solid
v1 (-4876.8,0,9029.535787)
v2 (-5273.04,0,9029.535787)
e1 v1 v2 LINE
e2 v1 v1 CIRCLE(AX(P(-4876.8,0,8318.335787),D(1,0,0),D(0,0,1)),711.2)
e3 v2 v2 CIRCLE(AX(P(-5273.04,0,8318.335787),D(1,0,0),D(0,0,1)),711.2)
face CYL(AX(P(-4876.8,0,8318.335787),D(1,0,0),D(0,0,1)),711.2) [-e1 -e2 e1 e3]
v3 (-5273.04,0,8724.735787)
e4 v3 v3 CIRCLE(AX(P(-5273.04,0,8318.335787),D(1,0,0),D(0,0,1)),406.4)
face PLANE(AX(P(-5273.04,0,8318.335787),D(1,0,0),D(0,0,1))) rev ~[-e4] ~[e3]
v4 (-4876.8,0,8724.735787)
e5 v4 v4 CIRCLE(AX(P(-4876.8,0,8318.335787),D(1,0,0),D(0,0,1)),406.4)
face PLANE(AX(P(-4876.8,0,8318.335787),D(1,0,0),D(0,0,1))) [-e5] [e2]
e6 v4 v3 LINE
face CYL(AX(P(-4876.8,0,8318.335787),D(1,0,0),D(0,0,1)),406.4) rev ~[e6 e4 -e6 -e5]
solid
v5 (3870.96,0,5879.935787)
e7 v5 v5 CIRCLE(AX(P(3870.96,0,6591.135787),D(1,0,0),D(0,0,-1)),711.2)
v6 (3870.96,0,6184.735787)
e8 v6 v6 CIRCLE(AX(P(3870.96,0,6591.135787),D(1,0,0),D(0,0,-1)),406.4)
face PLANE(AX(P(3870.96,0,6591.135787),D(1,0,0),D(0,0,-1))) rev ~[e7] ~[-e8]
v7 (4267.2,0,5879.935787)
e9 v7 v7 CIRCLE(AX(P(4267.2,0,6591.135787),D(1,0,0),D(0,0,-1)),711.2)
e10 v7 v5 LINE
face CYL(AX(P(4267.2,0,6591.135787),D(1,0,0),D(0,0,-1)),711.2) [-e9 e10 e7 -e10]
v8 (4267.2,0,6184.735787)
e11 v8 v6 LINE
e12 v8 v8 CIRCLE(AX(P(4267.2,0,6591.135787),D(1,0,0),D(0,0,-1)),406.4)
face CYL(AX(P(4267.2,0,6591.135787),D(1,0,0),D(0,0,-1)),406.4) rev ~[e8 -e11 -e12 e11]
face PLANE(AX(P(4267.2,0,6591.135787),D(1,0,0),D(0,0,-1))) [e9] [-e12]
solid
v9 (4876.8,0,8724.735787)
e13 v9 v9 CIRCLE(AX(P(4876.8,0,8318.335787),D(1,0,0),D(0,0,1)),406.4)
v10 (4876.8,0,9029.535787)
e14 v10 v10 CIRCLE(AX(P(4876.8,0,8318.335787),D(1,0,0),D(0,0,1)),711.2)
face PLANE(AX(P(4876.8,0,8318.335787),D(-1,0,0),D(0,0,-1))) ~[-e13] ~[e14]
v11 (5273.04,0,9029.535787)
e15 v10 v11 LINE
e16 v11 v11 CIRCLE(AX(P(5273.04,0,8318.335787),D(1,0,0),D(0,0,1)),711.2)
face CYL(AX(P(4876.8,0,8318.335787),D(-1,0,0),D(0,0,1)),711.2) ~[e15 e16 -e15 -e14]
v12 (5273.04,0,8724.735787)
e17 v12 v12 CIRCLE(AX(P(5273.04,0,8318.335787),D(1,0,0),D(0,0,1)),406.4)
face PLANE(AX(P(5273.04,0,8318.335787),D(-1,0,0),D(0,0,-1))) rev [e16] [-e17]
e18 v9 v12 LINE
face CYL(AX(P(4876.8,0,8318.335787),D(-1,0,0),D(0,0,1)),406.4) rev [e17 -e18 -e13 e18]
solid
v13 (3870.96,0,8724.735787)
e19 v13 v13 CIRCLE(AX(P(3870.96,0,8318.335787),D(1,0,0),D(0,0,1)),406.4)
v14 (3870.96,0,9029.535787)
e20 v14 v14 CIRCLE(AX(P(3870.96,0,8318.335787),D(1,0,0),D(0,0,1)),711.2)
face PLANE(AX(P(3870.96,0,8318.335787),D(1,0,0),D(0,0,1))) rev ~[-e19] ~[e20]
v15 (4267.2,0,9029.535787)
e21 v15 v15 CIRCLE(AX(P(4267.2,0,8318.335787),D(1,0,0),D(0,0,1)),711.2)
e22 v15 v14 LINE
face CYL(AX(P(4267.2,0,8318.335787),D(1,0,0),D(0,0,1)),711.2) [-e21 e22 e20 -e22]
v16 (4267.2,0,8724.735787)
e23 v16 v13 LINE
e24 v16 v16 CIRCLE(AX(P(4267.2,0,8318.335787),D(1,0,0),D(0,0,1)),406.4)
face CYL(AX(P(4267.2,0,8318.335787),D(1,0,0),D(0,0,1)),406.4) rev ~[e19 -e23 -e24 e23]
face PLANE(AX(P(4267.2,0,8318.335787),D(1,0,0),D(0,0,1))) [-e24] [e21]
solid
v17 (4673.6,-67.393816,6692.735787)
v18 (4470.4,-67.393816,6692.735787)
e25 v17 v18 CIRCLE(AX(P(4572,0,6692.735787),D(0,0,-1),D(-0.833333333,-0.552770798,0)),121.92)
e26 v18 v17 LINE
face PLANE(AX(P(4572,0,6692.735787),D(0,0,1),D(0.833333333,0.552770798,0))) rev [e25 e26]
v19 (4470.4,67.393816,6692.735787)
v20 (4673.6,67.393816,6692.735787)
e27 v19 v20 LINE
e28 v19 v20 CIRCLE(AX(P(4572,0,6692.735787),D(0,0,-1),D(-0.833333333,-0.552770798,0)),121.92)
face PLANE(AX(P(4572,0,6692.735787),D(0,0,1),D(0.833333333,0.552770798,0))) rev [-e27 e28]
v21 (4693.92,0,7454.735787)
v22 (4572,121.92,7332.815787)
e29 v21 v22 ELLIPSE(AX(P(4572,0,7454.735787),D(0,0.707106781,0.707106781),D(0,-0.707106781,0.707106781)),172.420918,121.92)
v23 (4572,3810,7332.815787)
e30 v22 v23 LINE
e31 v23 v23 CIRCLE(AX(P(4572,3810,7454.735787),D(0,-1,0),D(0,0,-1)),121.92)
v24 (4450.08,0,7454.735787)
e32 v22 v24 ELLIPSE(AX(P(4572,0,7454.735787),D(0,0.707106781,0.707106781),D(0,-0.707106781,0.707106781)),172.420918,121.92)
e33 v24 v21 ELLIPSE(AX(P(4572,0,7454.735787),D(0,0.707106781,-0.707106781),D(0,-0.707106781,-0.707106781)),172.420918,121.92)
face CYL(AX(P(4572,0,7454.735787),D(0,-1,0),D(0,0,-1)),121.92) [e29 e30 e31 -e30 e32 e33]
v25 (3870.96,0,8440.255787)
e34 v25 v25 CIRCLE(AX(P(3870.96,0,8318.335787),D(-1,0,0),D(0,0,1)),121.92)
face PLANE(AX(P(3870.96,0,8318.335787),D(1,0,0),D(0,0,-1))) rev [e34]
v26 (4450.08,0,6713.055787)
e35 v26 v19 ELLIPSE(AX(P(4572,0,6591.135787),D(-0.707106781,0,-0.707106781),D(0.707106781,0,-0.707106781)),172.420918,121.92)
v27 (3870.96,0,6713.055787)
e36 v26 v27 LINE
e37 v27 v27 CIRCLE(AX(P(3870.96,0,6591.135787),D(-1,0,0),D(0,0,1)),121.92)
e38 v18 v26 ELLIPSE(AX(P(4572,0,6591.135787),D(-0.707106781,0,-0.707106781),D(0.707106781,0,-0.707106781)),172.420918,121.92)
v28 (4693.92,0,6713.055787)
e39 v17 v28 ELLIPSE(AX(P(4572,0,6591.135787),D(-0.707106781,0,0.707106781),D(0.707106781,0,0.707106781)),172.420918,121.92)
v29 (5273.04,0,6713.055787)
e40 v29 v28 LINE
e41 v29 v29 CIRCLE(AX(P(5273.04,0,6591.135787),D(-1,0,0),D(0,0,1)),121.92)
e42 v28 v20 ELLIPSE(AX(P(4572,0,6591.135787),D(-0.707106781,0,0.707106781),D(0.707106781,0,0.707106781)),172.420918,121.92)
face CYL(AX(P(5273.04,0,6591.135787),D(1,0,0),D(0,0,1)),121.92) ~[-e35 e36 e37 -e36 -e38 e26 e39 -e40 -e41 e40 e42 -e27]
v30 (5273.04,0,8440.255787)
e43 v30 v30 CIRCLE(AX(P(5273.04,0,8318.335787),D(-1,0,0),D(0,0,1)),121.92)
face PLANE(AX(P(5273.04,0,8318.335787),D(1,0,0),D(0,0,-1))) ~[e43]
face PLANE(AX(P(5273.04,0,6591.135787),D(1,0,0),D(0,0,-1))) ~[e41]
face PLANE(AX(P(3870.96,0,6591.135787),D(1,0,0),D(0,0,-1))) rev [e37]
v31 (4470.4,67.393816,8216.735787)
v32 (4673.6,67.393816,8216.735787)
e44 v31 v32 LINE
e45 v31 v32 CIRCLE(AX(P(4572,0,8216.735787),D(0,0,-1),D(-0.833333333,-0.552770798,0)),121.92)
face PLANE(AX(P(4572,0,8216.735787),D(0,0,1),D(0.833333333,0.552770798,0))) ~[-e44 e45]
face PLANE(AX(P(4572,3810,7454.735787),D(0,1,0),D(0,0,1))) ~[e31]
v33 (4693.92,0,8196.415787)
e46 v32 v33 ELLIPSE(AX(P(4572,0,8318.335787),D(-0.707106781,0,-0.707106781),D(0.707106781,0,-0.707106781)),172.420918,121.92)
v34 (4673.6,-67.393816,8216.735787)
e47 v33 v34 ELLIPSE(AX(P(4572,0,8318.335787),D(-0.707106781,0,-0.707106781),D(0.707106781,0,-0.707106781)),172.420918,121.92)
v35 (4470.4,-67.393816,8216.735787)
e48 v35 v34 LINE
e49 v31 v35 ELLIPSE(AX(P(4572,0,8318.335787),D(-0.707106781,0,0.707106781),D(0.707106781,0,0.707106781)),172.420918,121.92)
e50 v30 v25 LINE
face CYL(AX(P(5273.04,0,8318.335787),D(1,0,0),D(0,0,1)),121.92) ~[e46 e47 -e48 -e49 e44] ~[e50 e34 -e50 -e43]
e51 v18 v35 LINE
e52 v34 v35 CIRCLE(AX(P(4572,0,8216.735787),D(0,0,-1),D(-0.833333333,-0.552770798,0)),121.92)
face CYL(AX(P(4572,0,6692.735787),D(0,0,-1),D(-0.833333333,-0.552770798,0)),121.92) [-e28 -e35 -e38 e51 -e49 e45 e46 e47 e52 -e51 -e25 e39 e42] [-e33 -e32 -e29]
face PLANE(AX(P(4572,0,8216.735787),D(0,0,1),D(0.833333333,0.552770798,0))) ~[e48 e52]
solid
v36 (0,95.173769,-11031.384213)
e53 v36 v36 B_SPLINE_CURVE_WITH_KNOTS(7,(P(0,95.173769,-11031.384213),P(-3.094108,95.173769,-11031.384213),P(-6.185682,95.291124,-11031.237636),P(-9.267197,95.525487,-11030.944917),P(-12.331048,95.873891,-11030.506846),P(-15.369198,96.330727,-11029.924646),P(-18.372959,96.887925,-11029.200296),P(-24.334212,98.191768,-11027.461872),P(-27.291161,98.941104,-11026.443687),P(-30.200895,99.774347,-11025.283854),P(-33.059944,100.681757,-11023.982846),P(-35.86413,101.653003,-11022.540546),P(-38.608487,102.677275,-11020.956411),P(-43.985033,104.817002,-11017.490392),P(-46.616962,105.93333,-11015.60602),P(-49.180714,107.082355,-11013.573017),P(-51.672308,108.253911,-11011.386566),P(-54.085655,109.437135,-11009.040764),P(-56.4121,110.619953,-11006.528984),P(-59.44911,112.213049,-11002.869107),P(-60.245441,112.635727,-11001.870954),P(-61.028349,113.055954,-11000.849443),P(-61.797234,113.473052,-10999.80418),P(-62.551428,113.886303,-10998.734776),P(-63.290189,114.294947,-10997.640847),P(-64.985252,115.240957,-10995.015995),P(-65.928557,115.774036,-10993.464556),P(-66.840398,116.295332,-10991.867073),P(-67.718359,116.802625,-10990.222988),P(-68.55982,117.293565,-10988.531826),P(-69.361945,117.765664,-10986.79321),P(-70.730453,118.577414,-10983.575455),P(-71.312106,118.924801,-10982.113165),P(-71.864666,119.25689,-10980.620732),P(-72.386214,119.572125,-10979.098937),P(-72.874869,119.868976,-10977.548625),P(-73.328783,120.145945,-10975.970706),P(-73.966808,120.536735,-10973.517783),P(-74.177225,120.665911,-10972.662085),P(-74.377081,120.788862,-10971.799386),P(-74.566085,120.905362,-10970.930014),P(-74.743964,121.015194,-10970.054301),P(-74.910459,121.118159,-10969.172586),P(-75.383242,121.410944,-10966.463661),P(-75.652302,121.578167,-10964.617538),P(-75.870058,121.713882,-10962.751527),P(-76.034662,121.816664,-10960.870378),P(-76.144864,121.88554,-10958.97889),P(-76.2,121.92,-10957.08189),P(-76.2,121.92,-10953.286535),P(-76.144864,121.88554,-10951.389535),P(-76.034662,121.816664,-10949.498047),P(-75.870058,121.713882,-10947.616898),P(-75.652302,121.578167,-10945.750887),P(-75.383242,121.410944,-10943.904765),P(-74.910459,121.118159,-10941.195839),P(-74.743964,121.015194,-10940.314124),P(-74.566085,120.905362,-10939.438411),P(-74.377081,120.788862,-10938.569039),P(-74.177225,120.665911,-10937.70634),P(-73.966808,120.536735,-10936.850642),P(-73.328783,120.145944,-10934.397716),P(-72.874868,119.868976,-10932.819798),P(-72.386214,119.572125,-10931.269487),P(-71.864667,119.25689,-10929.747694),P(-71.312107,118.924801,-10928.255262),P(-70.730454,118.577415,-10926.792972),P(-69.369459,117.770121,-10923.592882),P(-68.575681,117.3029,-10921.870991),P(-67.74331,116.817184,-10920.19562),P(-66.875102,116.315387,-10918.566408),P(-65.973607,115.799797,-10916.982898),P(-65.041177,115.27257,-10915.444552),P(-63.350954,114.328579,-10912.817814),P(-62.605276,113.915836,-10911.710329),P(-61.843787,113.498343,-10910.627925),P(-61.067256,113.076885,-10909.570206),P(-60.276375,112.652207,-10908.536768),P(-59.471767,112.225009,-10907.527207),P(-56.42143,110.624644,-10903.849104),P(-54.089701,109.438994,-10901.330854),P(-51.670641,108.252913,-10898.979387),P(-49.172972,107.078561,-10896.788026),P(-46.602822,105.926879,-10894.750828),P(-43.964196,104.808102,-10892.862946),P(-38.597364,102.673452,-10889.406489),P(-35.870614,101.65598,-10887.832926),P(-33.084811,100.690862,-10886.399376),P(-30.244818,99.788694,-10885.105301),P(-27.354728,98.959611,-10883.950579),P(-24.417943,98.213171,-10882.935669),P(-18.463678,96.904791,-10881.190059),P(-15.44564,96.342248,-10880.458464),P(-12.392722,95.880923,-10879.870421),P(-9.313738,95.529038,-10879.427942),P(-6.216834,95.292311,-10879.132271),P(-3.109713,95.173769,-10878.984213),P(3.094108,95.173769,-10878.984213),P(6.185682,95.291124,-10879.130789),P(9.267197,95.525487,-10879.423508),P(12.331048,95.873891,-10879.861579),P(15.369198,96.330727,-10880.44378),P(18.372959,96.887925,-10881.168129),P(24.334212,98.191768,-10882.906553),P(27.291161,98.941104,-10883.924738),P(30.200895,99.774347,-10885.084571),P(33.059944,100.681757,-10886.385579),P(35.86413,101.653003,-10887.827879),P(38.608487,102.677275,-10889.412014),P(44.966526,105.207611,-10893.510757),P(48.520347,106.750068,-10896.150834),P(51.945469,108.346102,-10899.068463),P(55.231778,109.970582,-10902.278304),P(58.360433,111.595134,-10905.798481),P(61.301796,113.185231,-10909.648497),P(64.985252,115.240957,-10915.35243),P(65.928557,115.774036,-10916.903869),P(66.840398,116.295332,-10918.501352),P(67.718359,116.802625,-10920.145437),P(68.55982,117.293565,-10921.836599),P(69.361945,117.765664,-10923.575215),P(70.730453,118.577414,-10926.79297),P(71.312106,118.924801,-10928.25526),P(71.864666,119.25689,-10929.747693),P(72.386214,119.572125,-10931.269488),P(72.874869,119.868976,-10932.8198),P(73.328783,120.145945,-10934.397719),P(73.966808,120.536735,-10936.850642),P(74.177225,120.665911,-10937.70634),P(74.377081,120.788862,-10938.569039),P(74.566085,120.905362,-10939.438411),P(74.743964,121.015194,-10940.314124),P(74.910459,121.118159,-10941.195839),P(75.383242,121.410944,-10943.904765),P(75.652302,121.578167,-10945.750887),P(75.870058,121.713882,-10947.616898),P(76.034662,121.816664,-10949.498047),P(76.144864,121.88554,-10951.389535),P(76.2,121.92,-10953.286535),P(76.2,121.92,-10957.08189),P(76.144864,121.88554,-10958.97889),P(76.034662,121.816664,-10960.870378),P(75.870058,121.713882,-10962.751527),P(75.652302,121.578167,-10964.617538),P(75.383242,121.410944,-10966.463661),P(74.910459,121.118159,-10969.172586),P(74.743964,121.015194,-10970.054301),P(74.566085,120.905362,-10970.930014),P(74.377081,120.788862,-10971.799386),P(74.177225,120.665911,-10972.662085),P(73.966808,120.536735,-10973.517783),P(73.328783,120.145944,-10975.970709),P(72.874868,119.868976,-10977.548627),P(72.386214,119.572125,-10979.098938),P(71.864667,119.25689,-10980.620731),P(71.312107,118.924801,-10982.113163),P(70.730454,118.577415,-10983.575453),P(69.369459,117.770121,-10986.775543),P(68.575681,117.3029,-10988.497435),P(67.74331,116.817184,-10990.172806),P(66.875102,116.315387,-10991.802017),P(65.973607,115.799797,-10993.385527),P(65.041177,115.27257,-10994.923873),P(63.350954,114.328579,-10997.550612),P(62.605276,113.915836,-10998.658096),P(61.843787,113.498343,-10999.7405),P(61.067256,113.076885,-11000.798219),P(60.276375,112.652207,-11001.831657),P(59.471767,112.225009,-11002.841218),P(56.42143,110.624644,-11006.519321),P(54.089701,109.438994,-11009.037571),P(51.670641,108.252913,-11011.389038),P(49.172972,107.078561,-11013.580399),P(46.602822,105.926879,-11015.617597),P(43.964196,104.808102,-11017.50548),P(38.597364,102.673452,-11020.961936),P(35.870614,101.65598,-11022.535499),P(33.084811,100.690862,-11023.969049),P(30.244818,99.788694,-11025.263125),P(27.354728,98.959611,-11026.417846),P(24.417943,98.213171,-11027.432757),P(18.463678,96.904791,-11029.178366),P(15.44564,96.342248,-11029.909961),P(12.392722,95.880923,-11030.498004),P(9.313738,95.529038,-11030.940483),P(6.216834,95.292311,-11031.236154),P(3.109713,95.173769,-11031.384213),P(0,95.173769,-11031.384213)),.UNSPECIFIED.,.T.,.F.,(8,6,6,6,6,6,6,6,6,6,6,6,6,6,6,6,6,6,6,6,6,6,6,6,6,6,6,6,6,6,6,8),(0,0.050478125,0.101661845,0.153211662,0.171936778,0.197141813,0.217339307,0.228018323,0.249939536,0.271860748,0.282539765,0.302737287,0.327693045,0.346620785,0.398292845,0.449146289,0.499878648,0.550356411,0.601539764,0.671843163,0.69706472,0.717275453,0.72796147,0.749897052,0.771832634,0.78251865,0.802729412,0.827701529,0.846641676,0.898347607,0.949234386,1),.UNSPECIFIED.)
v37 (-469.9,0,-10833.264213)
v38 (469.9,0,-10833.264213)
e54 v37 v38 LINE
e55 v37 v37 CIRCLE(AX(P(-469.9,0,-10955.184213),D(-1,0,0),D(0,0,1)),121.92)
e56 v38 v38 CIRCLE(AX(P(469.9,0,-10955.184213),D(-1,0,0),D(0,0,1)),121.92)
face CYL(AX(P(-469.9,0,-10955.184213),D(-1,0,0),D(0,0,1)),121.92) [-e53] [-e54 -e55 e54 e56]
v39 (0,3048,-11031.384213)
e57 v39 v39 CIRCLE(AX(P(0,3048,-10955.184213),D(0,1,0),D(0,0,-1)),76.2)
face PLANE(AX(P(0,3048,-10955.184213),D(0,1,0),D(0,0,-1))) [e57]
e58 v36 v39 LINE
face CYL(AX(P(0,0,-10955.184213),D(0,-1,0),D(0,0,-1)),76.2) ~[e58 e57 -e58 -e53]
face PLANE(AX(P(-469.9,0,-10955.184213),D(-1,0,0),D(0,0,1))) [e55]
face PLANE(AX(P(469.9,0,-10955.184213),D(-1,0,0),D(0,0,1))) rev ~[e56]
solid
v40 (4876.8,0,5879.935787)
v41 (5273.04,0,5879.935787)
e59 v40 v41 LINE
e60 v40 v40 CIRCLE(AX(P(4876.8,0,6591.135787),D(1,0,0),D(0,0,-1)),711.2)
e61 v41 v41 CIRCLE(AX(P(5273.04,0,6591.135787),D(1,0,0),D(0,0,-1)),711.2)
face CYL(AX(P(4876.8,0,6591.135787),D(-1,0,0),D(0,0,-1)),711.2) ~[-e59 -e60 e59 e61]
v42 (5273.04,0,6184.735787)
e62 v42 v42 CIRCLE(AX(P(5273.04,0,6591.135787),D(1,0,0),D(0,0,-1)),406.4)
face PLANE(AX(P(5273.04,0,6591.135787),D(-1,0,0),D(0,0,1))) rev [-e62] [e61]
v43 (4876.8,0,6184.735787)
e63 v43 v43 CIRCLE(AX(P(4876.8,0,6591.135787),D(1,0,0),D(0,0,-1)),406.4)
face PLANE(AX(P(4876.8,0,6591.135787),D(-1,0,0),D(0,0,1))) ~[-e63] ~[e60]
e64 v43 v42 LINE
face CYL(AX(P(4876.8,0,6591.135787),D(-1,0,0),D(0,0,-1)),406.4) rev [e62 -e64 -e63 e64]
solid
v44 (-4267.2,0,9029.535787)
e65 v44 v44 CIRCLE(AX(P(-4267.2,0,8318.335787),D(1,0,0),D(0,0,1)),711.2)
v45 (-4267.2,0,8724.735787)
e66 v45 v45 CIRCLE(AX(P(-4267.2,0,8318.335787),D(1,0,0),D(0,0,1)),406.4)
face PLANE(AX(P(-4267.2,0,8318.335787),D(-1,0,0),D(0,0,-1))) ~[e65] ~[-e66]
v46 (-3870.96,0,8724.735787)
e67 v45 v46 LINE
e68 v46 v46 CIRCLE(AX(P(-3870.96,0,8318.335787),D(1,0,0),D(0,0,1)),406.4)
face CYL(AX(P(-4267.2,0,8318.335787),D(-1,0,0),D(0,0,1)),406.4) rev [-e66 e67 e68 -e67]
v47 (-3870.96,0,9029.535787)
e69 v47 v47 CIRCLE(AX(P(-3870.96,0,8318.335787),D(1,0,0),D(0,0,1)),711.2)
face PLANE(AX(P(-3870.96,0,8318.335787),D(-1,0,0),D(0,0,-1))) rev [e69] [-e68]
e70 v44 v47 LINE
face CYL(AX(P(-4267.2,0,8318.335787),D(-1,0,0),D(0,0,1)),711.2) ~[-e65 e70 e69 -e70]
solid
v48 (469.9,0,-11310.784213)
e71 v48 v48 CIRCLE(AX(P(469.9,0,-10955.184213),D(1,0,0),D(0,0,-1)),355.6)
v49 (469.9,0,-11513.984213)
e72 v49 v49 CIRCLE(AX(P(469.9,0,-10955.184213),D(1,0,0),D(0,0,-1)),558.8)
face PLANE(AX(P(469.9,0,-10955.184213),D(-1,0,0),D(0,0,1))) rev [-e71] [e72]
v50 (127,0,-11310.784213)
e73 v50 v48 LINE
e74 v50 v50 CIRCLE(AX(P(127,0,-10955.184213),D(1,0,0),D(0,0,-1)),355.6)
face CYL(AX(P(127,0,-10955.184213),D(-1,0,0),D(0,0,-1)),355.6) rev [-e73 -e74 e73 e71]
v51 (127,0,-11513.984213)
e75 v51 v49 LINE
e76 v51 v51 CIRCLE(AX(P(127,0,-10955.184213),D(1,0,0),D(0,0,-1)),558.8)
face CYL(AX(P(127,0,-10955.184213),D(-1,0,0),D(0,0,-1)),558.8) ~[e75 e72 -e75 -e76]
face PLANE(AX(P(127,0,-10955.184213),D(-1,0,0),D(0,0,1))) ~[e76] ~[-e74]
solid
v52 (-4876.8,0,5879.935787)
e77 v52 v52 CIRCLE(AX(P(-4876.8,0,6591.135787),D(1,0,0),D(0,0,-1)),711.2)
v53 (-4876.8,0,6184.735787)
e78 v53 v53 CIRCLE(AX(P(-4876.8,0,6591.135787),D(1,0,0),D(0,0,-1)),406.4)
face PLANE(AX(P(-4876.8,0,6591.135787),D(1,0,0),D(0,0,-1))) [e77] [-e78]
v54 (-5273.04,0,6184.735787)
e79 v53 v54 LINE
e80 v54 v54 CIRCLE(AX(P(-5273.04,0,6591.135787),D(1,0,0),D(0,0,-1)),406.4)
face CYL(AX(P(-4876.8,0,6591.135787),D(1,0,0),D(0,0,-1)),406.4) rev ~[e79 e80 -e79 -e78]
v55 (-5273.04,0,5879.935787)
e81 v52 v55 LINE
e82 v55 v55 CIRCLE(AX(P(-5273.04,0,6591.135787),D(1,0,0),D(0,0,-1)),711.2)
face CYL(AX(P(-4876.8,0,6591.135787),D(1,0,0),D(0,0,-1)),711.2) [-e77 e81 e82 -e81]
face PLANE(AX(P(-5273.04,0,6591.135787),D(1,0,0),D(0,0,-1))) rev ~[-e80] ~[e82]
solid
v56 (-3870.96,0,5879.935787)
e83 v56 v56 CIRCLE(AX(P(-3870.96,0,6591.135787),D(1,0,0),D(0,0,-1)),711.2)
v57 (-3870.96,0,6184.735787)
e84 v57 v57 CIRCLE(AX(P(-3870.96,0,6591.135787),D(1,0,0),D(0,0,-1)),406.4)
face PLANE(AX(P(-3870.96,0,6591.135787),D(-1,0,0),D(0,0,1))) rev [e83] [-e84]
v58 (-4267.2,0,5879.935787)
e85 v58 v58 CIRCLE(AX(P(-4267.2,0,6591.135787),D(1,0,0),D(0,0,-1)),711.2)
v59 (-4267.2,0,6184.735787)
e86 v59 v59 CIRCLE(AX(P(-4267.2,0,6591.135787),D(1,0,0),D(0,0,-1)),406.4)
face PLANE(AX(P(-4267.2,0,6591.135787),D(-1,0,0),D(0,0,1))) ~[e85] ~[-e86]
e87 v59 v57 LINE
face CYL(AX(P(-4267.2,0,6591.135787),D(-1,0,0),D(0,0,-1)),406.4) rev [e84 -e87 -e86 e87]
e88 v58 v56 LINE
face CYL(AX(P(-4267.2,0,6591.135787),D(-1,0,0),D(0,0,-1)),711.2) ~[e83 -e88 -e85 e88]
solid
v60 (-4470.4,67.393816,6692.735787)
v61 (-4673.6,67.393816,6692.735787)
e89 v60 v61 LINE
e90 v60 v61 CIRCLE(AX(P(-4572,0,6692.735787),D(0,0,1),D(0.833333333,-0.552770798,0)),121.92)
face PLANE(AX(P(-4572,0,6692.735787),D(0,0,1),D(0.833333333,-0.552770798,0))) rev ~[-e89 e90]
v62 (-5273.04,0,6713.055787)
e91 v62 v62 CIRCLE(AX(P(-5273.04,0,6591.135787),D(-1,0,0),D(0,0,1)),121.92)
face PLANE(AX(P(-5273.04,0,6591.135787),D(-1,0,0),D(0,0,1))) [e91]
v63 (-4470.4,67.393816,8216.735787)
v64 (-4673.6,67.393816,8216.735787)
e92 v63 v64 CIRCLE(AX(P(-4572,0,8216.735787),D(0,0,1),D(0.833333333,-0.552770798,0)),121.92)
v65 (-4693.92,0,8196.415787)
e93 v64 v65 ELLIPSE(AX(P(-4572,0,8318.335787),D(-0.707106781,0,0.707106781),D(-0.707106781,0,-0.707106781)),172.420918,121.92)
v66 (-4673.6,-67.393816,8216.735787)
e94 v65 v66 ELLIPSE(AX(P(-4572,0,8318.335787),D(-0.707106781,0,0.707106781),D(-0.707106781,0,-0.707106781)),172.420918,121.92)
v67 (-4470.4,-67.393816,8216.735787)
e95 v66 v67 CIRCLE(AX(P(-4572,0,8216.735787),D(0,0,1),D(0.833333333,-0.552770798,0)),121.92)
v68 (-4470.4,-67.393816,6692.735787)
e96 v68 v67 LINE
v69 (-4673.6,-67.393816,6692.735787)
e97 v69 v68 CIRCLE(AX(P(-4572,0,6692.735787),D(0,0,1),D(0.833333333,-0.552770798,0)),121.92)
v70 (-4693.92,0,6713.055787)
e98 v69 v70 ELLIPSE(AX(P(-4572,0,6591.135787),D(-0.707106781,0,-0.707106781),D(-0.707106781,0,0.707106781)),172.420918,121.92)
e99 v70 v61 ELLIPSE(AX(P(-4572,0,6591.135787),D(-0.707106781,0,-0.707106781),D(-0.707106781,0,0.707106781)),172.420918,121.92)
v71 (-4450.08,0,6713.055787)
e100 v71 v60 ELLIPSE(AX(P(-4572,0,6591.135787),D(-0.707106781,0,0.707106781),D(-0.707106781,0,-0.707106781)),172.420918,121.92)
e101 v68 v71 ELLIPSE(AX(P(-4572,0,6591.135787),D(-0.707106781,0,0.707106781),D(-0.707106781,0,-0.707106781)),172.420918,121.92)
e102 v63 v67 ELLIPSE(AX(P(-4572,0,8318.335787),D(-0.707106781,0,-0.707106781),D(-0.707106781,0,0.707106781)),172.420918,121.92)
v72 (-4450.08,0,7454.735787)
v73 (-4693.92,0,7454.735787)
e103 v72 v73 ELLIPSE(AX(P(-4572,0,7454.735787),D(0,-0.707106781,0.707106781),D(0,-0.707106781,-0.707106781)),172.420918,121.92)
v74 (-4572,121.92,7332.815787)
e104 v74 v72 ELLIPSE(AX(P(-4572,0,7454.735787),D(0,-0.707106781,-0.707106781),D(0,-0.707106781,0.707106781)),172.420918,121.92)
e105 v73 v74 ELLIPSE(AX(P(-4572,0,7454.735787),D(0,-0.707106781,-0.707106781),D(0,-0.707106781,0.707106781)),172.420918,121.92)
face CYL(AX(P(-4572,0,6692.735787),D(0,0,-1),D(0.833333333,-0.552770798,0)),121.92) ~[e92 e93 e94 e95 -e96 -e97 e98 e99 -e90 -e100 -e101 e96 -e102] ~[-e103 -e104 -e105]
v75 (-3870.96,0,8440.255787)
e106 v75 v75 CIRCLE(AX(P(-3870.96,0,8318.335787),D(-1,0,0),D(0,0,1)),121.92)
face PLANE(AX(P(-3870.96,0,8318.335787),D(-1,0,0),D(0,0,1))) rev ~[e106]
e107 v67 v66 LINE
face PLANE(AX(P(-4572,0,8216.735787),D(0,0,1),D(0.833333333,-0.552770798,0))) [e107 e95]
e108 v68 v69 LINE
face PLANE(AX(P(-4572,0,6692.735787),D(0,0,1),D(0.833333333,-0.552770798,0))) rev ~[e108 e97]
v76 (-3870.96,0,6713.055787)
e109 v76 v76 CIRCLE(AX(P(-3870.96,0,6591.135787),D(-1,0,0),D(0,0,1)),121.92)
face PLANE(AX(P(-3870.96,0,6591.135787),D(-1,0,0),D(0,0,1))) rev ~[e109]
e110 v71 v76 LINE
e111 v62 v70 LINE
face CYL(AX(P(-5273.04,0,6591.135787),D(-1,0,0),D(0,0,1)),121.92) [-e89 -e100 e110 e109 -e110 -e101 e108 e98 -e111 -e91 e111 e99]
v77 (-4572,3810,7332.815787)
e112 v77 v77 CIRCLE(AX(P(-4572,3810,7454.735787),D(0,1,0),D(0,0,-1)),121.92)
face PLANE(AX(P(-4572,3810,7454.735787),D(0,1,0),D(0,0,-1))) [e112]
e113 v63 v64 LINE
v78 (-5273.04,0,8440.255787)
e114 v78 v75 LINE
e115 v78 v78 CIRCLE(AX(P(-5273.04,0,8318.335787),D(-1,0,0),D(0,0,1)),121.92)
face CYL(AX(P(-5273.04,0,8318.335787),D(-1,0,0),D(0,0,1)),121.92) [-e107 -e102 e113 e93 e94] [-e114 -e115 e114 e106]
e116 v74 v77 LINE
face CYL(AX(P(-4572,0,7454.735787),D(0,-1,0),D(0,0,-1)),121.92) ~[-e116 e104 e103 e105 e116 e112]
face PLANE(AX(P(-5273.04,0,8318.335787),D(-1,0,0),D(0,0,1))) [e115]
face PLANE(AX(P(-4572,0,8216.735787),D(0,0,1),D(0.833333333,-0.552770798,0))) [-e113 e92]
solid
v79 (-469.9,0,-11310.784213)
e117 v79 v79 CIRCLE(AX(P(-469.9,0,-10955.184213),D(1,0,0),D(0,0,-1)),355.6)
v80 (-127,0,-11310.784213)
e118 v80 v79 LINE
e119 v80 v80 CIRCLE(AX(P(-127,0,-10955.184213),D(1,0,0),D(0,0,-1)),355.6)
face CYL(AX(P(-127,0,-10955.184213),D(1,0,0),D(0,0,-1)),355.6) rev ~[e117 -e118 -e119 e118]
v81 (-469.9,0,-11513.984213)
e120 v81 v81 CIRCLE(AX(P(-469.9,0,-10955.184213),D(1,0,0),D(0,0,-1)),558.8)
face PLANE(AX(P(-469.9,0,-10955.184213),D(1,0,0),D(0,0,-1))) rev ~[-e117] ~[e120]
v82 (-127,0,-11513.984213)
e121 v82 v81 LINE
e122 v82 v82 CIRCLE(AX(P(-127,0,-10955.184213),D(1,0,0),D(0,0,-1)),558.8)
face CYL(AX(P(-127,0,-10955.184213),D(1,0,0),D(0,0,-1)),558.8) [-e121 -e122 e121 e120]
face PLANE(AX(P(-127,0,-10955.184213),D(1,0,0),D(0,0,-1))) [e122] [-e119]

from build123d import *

# Parameters (mm, degrees)
SKETCH16_R               = 711.1999999999995
SKETCH16_R_2             = 406.3999999999997
BOSS_EXTRUDE1_DEPTH      = 396.24
BOSS_EXTRUDE1_2_DEPTH    = 396.24
SKETCH12_R               = 121.92000000000056
BOSS_EXTRUDE2_DEPTH      = 3810.0000000000005
SKETCH17_R               = 121.92000000000046
BOSS_EXTRUDE3_DEPTH      = 1402.08
SKETCH17_R_2             = 121.92000000000138
BOSS_EXTRUDE3_2_DEPTH    = 1402.08
BOSS_EXTRUDE4_DEPTH      = 762.0000000000001
BOSS_EXTRUDE4_DEPTH_BACK = 762.0000000000001
SKETCH18_R               = 121.92000000000046
SKETCH19_R               = 558.8000000000001
SKETCH19_R_2             = 355.60000000000025
BOSS_EXTRUDE5_DEPTH      = 342.9
SKETCH20_R               = 121.92000000000138
BOSS_EXTRUDE6_DEPTH      = 939.8
SKETCH21_R               = 76.20000000000083
BOSS_EXTRUDE7_DEPTH      = 3048.0000000000005


with BuildPart() as part:
    # Sketch16 → Boss-Extrude1 (new body)
    with BuildSketch(Plane(origin=(-4876.8, 0, 0), x_dir=(0, 0, -1), z_dir=(1, 0, 0))):
        with Locations((-6591.13578743189, -1.866e-14)):
            Circle(SKETCH16_R)
        with Locations((-6591.13578743189, -1.866e-14)):
            Circle(SKETCH16_R_2, mode=Mode.SUBTRACT)
    extrude(amount=-BOSS_EXTRUDE1_DEPTH)


with BuildPart() as body_2:
    # Sketch16 → Boss-Extrude1 2 (new body)
    with BuildSketch(Plane(origin=(-4876.8, 0, 0), x_dir=(0, 0, -1), z_dir=(1, 0, 0))):
        with Locations(Location((-8318.33578743189, -1.866e-14, 0), (0, 0, 180))):
            Circle(SKETCH16_R)
        with Locations(Location((-8318.33578743189, -1.866e-14, 0), (0, 0, 180))):
            Circle(SKETCH16_R_2, mode=Mode.SUBTRACT)
    extrude(amount=-BOSS_EXTRUDE1_2_DEPTH)


with BuildPart() as body_3:
    # Mirror2: mirrored copy
    add(part.part.mirror(Plane(origin=(-4572, 0, 0), x_dir=(0, 0, 1), z_dir=(1, 0, 0))))


with BuildPart() as body_4:
    # Mirror2 2: mirrored copy
    add(body_2.part.mirror(Plane(origin=(-4572, 0, 0), x_dir=(0, 0, 1), z_dir=(1, 0, 0))))


with BuildPart() as body_5:
    # Sketch12 → Boss-Extrude2 (new body)
    with BuildSketch(Plane(origin=(0, 0, 0), x_dir=(1, 0, 0), z_dir=(0, 1, 0))):
        with Locations(Location((-4572, -7454.73578743189, 0), (0, 0, 90))):
            Circle(SKETCH12_R)
    extrude(amount=BOSS_EXTRUDE2_DEPTH)



with BuildPart() as body_6:
    # Sketch17 → Boss-Extrude3 (new body)
    with BuildSketch(Plane.ZY.offset(5273.04)):
        with Locations((6591.13578743189, -1.866e-14)):
            Circle(SKETCH17_R)
    extrude(amount=-BOSS_EXTRUDE3_DEPTH)


with BuildPart() as body_7:
    # Sketch17 → Boss-Extrude3 2 (new body)
    with BuildSketch(Plane.ZY.offset(5273.04)):
        with Locations((8318.33578743189, -1.866e-14)):
            Circle(SKETCH17_R_2)
    extrude(amount=-BOSS_EXTRUDE3_2_DEPTH)


with BuildPart() as body_5_1:
    add(body_5.part)

    add(body_6.part)  # Boss-Extrude4 merges body 6

    add(body_7.part)  # Boss-Extrude4 merges body 7
    # Sketch18 → Boss-Extrude4 (add, two sides: drawn at the far end of the back side and taken through both)
    with BuildSketch(Plane.XY.offset(7454.735787431891).offset(-BOSS_EXTRUDE4_DEPTH_BACK)):
        with Locations(Location((-4572, 0, 0), (0, 0, 326.442690238))):
            Circle(SKETCH18_R)
    extrude(amount=BOSS_EXTRUDE4_DEPTH + BOSS_EXTRUDE4_DEPTH_BACK)


with BuildPart() as body_6_2:
    # Sketch19 → Boss-Extrude5 (new body)
    with BuildSketch(Plane(origin=(-126.99999999999945, 0, 0), x_dir=(0, 0, -1), z_dir=(1, 0, 0))):
        with Locations((10955.184212568114, -2.141e-14)):
            Circle(SKETCH19_R)
        with Locations((10955.184212568114, -2.141e-14)):
            Circle(SKETCH19_R_2, mode=Mode.SUBTRACT)
    extrude(amount=-BOSS_EXTRUDE5_DEPTH)


with BuildPart() as body_7_2:
    # Mirror4: mirrored copy
    add(body_6_2.part.mirror(Plane(origin=(0, 0, 0), x_dir=(0, 0, 1), z_dir=(1, 0, 0))))


with BuildPart() as body_8:
    # Mirror4 2: mirrored copy
    add(body_2.part.mirror(Plane(origin=(0, 0, 0), x_dir=(0, 0, 1), z_dir=(1, 0, 0))))


with BuildPart() as body_9:
    # Mirror4 3: mirrored copy
    add(part.part.mirror(Plane(origin=(0, 0, 0), x_dir=(0, 0, 1), z_dir=(1, 0, 0))))


with BuildPart() as body_10:
    # Mirror4 4: mirrored copy
    add(body_4.part.mirror(Plane(origin=(0, 0, 0), x_dir=(0, 0, 1), z_dir=(1, 0, 0))))


with BuildPart() as body_11:
    # Mirror4 5: mirrored copy
    add(body_5_1.part.mirror(Plane(origin=(0, 0, 0), x_dir=(0, 0, 1), z_dir=(1, 0, 0))))


with BuildPart() as body_12:
    # Mirror4 6: mirrored copy
    add(body_3.part.mirror(Plane(origin=(0, 0, 0), x_dir=(0, 0, 1), z_dir=(1, 0, 0))))


with BuildPart() as body_13:
    # Sketch20 → Boss-Extrude6 (new body)
    with BuildSketch(Plane.ZY.offset(469.8999999999994)):
        with Locations((-10955.184212568114, -2.141e-14)):
            Circle(SKETCH20_R)
    extrude(amount=-BOSS_EXTRUDE6_DEPTH)

    # Sketch21 → Boss-Extrude7 (add)
    with BuildSketch(Plane(origin=(0, 0, 0), x_dir=(1, 0, 0), z_dir=(0, 1, 0))):
        with Locations(Location((7.3161e-13, 10955.184212568114, 0), (0, 0, 90))):
            Circle(SKETCH21_R)
    extrude(amount=BOSS_EXTRUDE7_DEPTH)


solid = Compound([part.part, body_2.part, body_3.part, body_4.part, body_5_1.part, body_6_2.part, body_7_2.part, body_8.part, body_9.part, body_10.part, body_11.part, body_12.part, body_13.part])
